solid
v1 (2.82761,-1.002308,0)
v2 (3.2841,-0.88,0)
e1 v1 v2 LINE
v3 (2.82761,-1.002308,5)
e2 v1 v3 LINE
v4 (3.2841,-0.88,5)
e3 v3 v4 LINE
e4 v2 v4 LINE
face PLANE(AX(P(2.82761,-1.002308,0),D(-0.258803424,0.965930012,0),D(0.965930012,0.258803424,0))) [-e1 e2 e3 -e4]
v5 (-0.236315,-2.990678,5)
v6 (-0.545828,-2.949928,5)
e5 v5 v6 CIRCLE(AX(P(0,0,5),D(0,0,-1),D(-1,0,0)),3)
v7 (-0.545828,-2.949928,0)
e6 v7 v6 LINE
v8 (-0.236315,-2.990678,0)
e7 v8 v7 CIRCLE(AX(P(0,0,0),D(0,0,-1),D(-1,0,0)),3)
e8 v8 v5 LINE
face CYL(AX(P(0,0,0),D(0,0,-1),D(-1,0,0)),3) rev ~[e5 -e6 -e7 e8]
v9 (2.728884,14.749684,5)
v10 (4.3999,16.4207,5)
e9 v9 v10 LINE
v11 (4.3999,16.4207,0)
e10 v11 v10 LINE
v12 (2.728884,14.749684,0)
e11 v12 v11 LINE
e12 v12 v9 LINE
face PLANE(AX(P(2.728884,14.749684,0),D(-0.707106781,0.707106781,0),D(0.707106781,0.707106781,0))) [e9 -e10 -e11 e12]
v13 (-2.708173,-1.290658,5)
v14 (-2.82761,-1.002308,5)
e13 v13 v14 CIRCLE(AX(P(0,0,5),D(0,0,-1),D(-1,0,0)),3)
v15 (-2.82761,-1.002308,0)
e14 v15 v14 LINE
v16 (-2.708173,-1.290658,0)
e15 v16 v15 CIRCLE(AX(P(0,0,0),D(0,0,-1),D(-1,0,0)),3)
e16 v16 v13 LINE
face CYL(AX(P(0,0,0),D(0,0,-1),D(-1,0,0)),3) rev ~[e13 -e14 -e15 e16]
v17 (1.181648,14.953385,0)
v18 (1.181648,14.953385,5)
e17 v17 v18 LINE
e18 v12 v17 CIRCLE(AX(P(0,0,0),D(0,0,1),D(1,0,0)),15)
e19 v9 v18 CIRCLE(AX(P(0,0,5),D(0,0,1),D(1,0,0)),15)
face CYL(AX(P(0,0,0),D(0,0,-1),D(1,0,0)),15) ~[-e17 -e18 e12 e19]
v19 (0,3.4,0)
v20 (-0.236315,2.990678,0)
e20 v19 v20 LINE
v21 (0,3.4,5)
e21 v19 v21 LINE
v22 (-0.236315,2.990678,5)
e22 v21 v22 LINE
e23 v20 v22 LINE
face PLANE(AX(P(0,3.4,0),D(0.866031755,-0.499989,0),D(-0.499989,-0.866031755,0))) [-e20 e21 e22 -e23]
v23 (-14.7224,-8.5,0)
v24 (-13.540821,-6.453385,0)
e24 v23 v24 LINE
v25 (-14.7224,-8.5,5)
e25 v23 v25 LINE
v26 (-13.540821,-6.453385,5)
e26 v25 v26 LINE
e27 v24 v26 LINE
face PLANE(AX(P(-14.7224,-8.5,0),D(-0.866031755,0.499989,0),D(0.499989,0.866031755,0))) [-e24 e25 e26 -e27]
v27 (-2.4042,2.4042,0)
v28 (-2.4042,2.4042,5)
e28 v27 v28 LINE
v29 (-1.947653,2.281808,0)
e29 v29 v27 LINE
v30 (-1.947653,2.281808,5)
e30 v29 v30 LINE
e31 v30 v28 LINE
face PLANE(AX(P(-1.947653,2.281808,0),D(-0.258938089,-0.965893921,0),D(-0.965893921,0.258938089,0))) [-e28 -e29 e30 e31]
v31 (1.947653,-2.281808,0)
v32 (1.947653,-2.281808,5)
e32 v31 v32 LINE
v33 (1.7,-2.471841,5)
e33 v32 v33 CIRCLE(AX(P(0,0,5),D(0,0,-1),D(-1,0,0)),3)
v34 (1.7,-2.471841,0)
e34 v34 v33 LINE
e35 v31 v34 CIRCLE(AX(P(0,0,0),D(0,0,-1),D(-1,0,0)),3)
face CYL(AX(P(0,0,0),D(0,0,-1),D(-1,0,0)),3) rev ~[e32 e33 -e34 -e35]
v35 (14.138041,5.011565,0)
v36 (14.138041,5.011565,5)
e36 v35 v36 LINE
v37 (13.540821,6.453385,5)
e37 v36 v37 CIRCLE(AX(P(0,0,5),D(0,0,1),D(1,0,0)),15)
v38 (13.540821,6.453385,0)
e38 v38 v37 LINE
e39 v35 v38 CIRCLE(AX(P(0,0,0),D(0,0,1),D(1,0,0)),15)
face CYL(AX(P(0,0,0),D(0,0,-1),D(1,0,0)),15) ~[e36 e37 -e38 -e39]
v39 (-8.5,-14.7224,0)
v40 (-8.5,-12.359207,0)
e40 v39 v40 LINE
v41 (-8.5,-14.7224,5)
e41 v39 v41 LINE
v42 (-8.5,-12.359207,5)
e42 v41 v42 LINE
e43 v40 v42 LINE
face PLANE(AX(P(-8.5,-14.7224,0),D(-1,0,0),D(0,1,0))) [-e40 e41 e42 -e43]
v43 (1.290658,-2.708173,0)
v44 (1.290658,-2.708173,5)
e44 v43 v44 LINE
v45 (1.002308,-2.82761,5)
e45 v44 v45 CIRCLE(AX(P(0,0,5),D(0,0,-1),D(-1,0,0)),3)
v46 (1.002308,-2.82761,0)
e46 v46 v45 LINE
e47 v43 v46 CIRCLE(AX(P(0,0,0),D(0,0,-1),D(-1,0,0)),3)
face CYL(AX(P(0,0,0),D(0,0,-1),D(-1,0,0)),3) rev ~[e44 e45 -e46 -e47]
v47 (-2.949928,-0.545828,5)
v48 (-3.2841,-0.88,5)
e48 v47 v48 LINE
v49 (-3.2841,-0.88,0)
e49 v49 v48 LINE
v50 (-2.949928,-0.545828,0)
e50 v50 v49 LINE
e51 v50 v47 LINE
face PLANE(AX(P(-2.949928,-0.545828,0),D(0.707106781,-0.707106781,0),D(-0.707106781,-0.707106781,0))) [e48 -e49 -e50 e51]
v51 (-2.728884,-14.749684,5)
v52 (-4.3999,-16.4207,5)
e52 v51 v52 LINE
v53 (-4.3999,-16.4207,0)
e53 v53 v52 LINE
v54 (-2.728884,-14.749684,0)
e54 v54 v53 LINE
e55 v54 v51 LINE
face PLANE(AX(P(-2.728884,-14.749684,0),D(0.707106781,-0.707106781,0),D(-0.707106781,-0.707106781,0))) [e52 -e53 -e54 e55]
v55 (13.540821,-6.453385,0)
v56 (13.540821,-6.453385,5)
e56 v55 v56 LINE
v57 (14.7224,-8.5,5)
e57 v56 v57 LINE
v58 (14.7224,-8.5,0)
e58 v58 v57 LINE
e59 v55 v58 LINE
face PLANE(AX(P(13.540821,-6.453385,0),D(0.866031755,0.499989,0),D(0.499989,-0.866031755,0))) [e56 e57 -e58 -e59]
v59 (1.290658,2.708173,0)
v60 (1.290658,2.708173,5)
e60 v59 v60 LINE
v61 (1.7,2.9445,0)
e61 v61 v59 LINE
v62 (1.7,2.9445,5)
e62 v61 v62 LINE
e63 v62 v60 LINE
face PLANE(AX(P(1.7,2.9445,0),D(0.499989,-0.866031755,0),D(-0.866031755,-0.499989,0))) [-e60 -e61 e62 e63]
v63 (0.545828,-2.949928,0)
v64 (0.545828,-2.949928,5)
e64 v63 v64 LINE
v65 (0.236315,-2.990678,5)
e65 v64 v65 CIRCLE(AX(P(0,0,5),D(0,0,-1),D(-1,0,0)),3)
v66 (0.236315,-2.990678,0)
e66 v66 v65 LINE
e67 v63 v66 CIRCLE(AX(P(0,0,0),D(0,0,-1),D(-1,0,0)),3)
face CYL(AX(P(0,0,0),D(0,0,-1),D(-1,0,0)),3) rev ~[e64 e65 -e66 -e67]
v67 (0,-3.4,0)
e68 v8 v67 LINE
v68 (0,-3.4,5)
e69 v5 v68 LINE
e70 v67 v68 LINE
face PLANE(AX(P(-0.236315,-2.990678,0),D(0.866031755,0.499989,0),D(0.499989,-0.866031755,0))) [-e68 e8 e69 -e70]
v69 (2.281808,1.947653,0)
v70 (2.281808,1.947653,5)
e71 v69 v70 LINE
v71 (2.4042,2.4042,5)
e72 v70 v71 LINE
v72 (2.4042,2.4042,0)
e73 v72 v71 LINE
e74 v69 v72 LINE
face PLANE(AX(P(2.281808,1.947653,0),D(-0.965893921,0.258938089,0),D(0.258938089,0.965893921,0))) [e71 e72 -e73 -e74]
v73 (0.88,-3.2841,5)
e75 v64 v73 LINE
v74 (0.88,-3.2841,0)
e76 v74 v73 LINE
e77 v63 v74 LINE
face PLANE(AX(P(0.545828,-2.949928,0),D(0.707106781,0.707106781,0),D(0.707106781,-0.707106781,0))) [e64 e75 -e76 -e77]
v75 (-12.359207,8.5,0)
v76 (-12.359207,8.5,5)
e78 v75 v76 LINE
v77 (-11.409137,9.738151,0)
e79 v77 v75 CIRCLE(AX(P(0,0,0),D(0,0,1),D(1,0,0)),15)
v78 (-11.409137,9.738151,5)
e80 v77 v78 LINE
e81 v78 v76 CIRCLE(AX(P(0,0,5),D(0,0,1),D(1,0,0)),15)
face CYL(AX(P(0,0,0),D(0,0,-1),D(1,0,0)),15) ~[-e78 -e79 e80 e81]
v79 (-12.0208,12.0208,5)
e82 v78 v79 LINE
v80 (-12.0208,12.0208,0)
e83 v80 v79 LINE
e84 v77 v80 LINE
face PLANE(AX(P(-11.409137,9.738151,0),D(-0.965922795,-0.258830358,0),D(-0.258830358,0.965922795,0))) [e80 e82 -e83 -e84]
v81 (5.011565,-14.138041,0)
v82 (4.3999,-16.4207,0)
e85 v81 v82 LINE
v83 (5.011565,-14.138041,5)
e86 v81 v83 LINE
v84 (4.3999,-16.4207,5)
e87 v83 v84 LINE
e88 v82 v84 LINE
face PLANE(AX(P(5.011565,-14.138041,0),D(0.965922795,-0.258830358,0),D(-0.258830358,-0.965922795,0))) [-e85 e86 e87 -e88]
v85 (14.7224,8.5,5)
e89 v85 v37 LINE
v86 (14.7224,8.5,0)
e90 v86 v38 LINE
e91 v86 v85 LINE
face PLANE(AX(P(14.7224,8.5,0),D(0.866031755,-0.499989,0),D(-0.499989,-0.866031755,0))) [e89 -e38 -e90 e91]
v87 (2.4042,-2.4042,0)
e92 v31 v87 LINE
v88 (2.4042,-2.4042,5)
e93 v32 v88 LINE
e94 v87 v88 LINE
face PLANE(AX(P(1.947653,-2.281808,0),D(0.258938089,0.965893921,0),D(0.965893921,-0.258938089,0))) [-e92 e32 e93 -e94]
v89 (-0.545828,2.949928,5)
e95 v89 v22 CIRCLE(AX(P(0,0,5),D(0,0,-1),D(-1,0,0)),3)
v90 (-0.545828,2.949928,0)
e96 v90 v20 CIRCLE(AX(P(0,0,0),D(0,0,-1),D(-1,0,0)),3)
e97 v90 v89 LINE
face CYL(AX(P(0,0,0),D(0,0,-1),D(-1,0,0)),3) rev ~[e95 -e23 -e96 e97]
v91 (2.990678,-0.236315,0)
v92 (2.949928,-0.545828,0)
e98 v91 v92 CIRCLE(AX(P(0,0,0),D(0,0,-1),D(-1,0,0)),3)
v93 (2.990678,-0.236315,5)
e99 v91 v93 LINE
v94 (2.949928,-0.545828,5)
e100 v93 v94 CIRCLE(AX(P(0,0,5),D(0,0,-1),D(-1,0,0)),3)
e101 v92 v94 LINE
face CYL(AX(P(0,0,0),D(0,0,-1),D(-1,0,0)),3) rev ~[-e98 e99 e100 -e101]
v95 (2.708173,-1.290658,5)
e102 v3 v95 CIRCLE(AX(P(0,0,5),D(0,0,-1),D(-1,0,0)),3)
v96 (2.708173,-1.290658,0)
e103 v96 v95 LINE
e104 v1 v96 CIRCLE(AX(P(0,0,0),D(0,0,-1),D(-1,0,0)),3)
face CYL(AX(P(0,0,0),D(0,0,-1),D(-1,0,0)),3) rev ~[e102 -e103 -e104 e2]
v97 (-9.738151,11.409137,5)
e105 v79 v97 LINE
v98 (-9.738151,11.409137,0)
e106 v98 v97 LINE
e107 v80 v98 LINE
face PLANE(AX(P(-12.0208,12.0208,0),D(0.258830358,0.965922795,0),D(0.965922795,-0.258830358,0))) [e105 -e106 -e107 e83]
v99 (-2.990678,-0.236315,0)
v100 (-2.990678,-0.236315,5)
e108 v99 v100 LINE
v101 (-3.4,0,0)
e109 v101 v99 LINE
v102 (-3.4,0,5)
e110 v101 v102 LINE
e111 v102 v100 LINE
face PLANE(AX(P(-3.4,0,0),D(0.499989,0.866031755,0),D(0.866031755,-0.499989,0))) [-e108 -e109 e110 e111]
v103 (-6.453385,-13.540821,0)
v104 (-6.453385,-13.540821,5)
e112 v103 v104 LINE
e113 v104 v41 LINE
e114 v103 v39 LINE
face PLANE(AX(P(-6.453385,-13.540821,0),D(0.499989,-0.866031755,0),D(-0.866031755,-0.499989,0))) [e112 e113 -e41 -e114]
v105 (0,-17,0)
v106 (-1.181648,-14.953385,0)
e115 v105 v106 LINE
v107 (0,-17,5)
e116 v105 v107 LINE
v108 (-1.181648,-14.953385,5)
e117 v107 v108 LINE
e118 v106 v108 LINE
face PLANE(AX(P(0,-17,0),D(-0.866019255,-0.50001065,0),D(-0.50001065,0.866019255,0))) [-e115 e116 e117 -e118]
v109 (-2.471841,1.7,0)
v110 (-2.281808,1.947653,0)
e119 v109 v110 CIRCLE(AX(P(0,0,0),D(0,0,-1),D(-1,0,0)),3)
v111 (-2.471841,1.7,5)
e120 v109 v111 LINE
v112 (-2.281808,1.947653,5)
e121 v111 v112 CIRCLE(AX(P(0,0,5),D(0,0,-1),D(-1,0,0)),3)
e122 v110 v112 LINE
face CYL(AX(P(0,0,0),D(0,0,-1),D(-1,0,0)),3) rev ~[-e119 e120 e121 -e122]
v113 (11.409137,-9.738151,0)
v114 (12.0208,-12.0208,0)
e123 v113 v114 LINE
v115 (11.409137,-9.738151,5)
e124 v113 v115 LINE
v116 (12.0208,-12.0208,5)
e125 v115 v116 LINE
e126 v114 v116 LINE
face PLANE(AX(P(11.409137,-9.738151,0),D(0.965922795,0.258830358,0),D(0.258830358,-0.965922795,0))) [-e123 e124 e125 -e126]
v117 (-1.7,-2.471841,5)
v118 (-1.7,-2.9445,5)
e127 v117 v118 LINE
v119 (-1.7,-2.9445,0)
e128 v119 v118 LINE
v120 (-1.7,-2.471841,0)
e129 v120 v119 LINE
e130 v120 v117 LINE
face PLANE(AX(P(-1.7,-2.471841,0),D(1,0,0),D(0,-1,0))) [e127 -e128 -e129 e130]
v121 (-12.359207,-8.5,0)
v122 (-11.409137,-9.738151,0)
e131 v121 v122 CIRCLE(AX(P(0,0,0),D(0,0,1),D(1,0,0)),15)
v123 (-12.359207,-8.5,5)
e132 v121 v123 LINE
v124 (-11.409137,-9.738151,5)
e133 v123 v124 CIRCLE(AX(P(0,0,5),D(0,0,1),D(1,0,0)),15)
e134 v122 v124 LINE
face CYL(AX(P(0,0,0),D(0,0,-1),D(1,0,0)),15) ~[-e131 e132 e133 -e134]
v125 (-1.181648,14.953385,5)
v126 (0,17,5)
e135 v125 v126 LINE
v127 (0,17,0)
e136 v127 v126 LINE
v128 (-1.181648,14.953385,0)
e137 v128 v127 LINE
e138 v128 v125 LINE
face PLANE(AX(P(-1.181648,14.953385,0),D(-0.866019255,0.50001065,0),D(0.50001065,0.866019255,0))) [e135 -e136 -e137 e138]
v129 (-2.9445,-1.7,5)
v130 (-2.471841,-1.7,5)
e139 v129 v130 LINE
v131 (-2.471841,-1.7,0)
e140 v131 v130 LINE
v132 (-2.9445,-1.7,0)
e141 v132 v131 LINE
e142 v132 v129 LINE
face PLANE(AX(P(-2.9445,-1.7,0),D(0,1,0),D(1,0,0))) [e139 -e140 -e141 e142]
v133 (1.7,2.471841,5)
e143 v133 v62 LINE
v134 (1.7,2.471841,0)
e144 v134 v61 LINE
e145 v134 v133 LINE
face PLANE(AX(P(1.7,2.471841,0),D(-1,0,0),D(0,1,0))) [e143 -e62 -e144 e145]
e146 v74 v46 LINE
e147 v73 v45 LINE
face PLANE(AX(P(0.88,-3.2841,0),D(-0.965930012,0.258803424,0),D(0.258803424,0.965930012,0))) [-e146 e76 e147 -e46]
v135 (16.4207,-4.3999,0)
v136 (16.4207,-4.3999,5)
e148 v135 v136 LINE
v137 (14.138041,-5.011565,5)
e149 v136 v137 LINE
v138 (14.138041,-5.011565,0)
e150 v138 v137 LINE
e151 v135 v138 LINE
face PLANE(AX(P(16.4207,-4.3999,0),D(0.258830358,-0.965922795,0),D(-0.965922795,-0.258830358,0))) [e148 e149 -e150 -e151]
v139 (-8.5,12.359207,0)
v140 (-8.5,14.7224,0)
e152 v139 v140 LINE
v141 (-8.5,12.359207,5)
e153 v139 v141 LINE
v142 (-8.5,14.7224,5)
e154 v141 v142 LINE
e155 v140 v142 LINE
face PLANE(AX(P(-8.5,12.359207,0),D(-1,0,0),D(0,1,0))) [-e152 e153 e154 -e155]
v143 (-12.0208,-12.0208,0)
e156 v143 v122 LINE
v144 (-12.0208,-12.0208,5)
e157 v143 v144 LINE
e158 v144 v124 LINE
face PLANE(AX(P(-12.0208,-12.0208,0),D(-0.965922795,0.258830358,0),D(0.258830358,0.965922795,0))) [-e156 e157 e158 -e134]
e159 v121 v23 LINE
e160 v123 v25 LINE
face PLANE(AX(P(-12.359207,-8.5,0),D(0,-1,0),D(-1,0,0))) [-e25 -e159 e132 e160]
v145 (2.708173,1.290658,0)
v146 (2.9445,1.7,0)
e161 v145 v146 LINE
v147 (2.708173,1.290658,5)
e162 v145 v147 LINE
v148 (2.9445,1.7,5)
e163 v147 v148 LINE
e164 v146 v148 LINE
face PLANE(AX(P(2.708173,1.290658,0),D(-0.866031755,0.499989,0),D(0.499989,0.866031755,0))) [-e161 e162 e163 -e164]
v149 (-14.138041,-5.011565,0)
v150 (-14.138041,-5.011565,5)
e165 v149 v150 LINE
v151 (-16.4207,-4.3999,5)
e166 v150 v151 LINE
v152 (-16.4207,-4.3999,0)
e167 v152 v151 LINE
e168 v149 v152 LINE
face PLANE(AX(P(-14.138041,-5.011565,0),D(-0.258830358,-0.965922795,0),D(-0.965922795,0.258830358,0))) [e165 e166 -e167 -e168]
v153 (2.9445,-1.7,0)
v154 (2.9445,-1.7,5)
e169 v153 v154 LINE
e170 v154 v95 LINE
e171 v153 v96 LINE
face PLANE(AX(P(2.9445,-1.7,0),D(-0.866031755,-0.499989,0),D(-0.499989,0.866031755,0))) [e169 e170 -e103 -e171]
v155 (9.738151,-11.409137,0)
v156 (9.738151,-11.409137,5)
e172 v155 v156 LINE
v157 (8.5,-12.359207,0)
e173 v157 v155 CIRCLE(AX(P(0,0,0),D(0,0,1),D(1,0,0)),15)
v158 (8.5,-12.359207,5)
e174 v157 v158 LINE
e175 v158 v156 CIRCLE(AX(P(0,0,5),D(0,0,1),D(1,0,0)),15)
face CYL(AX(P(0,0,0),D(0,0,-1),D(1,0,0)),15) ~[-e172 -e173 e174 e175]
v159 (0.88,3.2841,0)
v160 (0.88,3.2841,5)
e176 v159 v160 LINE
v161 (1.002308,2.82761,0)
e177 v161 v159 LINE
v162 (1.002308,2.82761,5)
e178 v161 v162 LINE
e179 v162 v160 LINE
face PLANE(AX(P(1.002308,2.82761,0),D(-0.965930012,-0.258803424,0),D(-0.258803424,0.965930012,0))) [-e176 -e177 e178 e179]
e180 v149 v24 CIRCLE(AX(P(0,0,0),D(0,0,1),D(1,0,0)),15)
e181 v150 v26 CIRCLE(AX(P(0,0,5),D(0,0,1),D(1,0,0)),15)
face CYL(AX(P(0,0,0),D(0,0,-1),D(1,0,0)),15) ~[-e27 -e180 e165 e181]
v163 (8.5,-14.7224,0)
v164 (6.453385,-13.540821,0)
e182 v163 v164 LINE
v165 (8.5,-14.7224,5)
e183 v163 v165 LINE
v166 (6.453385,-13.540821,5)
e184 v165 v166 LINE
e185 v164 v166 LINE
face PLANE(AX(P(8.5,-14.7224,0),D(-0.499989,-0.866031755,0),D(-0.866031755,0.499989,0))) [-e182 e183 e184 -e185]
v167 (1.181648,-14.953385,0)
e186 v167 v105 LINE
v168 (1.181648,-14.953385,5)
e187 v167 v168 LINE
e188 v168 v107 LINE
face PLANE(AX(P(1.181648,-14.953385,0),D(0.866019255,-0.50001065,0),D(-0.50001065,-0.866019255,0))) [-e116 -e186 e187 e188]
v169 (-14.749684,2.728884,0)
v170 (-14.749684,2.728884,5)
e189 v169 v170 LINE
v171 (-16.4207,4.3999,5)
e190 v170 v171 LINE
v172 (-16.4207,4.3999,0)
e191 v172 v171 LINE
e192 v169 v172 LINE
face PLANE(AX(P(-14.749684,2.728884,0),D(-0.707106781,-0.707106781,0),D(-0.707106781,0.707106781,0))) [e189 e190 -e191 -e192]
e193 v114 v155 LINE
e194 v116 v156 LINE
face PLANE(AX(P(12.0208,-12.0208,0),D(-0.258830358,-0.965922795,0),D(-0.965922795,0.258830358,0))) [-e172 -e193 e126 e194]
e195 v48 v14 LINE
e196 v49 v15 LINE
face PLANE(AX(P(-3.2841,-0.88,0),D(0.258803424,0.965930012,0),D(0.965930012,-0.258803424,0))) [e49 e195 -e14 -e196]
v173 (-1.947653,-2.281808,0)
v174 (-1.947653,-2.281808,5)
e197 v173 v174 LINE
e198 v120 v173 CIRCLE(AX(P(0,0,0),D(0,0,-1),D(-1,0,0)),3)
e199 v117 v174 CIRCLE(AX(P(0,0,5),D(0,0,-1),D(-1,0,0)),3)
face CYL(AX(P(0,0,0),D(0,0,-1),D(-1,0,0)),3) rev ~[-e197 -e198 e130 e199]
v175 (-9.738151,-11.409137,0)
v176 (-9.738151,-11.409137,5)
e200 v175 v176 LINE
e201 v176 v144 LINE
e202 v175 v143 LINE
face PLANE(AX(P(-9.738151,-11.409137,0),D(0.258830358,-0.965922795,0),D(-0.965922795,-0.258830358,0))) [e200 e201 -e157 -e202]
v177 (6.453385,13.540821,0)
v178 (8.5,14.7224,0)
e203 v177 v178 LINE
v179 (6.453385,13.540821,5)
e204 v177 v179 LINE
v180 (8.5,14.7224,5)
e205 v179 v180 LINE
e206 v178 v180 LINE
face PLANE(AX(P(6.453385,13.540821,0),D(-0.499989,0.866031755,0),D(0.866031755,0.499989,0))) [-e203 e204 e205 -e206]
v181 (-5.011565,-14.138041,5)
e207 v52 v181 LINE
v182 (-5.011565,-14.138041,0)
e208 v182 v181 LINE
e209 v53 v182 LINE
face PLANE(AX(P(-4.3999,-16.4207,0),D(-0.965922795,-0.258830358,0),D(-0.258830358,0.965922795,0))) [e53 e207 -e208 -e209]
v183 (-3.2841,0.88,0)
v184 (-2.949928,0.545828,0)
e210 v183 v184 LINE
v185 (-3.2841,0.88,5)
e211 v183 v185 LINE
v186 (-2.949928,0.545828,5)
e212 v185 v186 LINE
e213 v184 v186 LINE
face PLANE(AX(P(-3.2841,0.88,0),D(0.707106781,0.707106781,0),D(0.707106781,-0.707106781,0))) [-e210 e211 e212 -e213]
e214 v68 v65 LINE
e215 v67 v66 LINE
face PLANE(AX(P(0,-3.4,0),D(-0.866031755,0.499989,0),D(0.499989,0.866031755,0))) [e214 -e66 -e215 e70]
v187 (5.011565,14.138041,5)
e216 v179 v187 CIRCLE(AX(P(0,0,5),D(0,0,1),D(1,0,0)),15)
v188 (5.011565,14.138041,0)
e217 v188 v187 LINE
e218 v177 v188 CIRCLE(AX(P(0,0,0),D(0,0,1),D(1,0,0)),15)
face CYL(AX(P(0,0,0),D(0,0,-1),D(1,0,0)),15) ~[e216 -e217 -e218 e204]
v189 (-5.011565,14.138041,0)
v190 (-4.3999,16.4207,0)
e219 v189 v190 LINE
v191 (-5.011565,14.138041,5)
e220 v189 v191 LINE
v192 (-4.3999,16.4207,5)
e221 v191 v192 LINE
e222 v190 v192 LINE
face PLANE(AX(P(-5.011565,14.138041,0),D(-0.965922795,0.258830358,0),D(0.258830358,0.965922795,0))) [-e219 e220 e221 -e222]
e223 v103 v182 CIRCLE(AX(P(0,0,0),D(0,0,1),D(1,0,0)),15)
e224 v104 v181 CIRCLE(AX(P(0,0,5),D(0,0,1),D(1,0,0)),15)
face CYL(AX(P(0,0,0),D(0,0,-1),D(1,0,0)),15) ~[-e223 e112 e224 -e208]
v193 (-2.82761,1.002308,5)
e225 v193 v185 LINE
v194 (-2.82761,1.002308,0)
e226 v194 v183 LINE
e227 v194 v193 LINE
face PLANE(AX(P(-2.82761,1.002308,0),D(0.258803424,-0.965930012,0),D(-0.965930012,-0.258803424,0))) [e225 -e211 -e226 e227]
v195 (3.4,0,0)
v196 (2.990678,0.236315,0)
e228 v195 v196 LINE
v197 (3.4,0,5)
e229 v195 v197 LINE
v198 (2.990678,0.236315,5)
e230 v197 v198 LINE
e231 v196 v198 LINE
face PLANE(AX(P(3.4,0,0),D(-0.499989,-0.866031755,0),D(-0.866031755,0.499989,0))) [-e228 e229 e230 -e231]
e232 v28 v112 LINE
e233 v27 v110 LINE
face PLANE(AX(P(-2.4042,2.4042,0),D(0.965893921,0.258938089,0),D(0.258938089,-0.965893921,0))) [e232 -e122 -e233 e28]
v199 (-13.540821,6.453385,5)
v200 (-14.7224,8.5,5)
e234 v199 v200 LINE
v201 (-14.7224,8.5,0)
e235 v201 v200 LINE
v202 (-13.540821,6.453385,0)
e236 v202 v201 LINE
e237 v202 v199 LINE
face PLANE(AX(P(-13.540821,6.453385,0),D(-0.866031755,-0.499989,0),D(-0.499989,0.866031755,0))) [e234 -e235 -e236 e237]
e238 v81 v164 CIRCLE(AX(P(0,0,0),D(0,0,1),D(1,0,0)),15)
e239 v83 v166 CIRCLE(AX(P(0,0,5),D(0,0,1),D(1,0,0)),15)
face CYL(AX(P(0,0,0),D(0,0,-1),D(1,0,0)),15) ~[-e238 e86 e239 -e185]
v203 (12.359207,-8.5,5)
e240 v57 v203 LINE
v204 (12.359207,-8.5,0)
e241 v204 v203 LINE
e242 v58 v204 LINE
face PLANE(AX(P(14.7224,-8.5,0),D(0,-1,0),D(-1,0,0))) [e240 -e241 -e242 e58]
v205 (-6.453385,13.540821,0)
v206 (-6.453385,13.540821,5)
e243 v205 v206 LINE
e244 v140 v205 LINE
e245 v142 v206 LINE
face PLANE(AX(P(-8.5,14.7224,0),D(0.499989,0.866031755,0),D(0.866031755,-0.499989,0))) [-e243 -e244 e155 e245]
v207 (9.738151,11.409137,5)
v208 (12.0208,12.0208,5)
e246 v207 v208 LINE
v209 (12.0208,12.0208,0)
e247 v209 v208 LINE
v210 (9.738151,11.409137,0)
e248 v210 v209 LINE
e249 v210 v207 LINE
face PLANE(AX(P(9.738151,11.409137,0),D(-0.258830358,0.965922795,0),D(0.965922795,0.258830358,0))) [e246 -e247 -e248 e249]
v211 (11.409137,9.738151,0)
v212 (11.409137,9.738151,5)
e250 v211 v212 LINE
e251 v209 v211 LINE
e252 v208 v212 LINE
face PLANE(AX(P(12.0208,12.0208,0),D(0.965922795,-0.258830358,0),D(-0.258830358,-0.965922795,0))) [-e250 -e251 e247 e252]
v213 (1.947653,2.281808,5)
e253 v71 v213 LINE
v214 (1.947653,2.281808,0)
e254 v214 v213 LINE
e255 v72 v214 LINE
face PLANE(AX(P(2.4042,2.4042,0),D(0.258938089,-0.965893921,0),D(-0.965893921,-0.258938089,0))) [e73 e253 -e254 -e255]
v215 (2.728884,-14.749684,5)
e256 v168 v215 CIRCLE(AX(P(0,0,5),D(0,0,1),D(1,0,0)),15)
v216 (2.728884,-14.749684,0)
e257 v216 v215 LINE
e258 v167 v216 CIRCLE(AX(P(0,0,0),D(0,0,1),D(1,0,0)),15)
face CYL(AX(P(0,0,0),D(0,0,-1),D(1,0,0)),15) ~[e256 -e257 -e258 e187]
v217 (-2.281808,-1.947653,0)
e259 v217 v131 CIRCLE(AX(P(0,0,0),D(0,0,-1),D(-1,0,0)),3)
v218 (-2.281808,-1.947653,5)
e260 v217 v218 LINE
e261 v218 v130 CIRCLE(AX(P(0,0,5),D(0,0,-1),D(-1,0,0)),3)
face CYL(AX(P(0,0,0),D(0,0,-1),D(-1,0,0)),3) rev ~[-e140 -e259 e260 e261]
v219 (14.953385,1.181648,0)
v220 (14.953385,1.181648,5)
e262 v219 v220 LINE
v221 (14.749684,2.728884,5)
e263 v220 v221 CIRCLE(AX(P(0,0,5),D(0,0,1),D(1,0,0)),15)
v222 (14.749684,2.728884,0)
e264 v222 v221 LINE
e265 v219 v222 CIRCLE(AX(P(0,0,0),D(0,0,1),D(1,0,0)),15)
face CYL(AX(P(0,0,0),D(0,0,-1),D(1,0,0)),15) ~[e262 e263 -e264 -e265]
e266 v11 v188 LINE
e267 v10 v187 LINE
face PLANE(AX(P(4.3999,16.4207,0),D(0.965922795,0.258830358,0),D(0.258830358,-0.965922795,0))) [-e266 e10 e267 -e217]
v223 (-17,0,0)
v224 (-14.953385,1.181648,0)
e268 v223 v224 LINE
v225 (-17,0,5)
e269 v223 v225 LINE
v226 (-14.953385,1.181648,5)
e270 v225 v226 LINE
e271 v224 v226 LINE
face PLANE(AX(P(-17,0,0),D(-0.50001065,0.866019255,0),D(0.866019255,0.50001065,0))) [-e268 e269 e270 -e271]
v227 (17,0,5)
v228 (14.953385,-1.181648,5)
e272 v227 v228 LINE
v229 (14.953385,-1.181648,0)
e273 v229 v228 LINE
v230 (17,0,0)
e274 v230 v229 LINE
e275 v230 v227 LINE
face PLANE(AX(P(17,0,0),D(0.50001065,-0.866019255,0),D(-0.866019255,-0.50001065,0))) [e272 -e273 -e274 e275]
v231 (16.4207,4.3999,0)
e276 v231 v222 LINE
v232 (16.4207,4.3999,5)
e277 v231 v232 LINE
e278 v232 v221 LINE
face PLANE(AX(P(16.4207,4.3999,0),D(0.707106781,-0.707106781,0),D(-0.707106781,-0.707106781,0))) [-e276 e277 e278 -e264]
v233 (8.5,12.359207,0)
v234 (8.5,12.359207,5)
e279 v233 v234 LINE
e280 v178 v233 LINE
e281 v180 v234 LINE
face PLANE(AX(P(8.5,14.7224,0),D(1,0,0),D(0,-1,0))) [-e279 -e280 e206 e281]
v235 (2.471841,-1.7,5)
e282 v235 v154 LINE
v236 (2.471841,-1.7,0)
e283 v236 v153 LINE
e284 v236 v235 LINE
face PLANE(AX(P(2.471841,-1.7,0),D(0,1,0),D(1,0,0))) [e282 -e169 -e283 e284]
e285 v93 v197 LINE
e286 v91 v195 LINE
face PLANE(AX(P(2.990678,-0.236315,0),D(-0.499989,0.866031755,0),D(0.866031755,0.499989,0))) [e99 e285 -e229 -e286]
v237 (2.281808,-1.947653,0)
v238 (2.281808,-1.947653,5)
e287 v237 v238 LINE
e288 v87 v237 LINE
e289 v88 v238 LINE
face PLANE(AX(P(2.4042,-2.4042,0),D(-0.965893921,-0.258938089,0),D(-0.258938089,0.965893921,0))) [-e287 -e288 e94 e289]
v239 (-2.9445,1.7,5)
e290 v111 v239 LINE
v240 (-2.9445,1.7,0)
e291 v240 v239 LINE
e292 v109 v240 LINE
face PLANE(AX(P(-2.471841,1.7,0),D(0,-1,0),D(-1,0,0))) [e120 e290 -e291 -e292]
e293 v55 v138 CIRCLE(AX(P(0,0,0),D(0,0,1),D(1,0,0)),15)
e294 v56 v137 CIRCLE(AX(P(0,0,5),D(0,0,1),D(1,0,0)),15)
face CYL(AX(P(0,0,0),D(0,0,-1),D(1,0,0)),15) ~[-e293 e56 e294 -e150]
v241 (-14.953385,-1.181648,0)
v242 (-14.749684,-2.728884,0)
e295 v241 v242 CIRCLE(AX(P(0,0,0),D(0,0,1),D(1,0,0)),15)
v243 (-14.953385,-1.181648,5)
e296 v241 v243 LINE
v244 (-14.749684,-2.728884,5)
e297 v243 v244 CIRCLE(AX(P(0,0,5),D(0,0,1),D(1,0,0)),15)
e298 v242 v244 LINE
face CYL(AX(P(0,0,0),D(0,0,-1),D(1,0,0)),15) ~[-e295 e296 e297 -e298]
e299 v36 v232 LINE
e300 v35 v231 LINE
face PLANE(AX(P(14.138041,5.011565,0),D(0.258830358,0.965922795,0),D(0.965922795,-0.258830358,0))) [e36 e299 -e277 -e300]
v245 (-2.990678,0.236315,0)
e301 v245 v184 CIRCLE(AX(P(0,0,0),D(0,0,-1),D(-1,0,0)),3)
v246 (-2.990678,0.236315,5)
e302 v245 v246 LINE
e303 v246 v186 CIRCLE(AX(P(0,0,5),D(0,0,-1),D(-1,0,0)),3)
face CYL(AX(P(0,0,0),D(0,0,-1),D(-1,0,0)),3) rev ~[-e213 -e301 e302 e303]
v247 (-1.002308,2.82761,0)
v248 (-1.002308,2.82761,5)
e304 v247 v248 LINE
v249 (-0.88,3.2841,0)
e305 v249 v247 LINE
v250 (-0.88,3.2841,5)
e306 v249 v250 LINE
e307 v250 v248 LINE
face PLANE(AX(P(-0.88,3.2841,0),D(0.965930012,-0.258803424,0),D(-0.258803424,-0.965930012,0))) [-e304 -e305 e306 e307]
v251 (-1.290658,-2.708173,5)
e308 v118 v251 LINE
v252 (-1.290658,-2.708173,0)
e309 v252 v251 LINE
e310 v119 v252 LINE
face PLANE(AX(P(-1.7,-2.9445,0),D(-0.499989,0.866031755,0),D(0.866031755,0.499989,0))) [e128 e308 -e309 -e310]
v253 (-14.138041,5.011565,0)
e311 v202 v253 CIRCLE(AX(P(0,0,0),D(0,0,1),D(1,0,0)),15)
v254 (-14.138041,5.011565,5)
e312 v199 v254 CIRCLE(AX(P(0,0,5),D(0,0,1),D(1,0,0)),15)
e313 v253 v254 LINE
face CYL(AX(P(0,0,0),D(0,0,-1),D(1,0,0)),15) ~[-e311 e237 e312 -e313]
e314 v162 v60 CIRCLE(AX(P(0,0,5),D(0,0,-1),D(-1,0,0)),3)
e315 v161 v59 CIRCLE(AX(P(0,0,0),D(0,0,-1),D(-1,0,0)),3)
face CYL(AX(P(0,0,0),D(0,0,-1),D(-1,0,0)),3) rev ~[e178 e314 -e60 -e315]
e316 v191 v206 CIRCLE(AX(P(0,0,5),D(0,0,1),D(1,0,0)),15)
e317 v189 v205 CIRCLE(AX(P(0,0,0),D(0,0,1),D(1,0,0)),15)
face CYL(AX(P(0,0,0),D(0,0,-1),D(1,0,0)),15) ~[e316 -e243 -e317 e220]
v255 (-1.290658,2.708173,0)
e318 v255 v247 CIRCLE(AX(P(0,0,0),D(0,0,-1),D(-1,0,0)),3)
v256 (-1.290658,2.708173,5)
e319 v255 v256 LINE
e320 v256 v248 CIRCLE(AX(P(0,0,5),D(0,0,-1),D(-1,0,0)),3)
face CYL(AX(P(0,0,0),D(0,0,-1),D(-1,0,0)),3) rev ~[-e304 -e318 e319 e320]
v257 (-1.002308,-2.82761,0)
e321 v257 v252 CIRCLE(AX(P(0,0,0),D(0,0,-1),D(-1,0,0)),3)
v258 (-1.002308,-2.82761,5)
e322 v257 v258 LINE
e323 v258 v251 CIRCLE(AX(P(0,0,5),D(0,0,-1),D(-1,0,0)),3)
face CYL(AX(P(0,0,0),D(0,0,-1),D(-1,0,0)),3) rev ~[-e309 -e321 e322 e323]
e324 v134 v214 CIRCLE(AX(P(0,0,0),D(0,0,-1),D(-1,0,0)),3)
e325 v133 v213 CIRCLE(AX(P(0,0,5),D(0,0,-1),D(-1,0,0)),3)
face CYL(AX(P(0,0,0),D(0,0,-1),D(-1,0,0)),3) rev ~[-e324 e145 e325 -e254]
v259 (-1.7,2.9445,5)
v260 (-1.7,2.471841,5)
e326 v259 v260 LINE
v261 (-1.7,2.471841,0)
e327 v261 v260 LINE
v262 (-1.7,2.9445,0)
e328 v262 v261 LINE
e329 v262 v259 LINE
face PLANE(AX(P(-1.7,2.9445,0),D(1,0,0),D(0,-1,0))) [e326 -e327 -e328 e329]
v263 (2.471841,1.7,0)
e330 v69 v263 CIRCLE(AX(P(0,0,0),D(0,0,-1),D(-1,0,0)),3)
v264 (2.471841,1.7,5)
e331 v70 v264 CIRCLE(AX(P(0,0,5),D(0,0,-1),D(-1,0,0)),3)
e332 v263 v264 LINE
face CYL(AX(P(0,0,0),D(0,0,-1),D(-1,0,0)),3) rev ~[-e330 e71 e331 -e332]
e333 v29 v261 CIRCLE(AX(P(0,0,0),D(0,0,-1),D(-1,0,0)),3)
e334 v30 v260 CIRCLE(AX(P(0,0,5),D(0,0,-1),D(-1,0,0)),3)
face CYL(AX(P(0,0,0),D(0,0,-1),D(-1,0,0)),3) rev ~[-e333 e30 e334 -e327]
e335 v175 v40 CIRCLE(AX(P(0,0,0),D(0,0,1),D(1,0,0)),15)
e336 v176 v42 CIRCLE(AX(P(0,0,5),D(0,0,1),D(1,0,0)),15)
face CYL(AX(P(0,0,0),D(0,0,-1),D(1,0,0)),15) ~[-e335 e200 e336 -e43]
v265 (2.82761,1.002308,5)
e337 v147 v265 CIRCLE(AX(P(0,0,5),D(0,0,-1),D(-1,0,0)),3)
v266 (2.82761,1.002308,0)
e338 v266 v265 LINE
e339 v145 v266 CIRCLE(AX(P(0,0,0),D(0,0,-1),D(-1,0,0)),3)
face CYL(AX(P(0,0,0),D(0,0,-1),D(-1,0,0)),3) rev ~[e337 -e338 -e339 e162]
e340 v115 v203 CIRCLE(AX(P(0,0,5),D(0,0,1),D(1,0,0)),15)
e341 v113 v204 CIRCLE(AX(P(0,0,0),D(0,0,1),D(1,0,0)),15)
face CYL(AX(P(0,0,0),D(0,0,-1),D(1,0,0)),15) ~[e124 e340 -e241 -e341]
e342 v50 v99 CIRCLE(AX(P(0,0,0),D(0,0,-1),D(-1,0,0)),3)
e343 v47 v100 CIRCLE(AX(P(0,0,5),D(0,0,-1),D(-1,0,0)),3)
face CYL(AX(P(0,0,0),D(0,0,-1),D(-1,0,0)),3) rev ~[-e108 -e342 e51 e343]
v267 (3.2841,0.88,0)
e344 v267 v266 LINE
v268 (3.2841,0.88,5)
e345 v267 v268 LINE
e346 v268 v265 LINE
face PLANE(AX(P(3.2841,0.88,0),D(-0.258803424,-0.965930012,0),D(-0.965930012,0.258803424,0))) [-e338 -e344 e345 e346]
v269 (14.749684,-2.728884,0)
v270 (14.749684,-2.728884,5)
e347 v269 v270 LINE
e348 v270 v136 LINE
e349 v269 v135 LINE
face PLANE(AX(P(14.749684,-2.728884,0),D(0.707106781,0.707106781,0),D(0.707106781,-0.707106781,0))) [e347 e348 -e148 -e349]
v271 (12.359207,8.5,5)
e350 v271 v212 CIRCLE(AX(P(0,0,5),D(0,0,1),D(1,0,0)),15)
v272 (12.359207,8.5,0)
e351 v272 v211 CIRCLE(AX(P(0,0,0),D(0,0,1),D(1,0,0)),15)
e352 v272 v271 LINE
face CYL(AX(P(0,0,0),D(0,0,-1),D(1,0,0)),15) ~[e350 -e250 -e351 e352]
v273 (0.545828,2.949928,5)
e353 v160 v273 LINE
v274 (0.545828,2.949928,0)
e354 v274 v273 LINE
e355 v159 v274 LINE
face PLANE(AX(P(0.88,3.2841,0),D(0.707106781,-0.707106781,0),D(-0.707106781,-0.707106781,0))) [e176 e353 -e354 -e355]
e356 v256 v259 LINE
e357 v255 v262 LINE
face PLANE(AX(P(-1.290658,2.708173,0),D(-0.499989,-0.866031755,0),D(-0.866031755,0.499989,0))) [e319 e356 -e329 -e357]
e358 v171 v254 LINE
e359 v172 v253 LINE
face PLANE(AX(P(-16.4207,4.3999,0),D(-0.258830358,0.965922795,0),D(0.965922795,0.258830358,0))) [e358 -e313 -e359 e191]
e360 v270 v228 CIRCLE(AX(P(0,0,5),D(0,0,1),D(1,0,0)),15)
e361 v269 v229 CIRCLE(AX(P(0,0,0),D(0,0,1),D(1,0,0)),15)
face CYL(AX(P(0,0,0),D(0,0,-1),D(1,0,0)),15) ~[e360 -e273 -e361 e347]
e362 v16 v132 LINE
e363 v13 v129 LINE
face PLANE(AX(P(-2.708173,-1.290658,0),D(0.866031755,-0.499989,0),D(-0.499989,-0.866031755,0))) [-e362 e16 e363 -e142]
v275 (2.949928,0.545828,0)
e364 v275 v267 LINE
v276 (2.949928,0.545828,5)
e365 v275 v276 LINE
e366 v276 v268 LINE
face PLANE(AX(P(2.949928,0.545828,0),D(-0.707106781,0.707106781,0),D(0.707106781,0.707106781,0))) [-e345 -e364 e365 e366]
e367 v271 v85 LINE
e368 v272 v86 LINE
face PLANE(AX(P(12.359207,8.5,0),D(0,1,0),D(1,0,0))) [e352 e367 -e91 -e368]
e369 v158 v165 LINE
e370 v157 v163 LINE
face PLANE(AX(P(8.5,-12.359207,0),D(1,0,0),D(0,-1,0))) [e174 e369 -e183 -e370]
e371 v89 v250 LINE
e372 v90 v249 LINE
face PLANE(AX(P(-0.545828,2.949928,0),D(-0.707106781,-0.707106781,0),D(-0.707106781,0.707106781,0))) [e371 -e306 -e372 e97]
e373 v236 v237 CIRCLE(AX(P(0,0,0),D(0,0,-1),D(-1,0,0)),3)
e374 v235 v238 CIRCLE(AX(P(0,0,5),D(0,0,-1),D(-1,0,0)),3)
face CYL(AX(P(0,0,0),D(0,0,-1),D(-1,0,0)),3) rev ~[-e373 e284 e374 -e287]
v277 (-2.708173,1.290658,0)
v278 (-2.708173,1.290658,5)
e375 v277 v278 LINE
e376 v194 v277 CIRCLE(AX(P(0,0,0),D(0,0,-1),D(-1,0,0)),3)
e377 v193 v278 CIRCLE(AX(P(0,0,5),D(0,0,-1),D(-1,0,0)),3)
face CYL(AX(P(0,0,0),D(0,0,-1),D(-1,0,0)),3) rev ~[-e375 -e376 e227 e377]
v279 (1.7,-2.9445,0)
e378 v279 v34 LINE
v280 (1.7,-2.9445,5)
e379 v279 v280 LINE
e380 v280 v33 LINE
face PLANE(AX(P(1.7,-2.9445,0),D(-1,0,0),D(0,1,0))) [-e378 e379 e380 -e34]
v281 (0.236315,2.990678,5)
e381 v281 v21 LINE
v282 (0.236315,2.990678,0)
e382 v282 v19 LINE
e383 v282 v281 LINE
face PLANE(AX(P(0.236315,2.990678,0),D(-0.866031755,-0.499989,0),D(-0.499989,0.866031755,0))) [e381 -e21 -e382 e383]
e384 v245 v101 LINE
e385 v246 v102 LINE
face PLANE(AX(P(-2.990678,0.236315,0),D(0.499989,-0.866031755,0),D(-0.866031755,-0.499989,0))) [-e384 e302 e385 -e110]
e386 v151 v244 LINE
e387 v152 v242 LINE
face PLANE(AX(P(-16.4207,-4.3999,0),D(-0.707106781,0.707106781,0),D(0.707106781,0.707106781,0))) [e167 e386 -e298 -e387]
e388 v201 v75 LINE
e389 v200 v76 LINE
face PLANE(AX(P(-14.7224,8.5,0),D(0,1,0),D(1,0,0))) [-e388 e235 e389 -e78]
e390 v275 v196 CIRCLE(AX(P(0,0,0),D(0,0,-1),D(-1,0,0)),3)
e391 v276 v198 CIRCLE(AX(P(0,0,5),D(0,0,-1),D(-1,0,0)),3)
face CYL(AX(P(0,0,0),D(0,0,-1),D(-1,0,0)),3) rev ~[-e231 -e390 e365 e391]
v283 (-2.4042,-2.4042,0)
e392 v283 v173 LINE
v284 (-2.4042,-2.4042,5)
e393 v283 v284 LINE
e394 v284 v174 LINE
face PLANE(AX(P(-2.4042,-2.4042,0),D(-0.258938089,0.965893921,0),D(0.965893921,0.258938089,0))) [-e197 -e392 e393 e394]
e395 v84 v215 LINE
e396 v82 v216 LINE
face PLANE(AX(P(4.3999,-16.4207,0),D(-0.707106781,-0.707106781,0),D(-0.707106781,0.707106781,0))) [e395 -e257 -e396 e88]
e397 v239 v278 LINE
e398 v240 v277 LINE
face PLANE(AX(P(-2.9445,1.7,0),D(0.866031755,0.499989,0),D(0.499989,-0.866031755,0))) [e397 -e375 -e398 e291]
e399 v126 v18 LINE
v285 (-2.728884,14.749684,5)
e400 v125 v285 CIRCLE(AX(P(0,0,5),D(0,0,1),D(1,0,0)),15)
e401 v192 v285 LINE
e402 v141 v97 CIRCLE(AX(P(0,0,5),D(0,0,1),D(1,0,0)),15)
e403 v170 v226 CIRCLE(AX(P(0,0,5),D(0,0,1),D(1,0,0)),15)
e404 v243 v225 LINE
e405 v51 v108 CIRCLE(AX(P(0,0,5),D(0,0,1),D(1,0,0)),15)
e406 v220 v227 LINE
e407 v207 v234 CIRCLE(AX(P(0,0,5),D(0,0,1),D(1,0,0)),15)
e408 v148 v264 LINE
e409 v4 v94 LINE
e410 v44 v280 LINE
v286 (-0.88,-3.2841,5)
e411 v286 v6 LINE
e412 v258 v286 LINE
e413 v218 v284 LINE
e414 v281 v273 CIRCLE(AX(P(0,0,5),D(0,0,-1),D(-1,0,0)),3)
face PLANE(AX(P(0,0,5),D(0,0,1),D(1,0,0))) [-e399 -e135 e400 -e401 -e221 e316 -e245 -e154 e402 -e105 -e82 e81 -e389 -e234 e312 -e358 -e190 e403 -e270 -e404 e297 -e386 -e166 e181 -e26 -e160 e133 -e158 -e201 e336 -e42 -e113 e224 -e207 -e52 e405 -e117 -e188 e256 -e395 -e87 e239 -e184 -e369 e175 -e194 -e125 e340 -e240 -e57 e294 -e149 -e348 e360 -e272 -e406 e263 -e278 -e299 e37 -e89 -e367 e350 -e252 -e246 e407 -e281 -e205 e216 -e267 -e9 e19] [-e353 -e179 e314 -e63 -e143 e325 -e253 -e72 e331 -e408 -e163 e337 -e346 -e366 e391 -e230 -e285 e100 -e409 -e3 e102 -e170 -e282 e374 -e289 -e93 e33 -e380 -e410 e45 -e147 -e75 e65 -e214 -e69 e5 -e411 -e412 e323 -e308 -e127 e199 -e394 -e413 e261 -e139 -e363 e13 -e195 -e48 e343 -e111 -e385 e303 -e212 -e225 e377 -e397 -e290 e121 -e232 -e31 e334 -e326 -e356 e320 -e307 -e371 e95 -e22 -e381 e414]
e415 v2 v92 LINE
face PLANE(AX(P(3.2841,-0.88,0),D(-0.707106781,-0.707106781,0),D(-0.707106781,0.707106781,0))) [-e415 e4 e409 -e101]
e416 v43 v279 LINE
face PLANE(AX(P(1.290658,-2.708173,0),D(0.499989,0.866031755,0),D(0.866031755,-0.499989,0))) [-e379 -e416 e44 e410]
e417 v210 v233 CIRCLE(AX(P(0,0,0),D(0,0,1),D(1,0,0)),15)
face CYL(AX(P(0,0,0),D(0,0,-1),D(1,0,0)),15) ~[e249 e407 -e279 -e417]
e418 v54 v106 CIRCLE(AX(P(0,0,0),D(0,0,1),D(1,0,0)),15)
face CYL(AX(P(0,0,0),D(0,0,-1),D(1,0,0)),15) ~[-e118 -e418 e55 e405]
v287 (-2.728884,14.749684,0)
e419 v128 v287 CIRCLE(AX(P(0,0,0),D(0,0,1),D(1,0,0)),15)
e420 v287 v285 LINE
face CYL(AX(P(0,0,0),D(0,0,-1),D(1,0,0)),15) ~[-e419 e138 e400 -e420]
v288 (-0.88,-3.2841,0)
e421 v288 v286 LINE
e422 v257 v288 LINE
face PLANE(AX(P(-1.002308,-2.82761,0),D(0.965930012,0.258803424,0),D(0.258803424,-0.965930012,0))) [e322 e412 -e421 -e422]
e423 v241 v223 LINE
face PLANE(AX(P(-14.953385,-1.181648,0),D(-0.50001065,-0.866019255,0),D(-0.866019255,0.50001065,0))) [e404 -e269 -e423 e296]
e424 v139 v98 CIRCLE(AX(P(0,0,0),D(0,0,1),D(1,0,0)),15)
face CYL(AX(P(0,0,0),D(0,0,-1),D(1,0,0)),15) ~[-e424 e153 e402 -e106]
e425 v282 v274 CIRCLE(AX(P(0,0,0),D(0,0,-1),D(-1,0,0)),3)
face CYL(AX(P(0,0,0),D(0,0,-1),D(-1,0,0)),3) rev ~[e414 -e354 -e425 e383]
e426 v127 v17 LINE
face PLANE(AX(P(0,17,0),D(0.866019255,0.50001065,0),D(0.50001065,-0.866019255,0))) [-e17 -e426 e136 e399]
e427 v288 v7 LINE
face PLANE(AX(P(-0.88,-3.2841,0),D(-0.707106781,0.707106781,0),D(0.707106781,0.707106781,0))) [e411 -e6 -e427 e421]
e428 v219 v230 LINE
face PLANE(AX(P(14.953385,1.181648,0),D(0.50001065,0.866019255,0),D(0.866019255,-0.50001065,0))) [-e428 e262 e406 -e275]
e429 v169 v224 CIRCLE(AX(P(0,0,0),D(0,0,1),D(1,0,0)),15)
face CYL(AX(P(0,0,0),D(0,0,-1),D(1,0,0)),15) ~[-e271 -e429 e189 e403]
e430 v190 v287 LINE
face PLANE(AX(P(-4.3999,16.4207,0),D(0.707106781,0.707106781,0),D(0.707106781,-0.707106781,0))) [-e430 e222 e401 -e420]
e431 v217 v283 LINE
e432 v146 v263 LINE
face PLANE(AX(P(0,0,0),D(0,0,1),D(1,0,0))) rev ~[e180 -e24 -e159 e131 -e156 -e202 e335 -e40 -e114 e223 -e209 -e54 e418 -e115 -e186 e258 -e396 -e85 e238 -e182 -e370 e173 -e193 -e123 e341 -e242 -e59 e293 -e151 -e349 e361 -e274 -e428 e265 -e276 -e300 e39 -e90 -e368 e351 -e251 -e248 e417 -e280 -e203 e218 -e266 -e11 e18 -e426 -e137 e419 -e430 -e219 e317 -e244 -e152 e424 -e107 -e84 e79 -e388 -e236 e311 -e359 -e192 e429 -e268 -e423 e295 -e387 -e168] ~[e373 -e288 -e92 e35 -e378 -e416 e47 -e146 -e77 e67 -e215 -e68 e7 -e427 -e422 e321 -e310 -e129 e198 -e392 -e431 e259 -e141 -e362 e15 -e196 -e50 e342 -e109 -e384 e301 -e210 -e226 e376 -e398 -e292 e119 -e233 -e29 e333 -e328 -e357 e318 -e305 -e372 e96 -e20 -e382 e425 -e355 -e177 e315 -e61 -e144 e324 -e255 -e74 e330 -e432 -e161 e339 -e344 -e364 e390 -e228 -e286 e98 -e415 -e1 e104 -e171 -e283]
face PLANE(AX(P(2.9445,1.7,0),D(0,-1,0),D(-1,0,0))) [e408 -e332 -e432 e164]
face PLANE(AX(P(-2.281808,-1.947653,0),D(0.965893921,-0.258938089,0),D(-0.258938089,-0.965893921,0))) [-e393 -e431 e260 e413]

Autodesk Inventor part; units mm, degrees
ref_plane "YZ Plane" through (0, 0, 0) normal (1, 0, 0) x (0, 1, 0)
ref_plane "XZ Plane" through (0, 0, 0) normal (0, 1, 0) x (-1, 0, 0)
ref_plane "XY Plane" through (0, 0, 0) normal (0, 0, 1) x (1, 0, 0)
sketch "Boceto1" plane through (0, 0, 0) normal (0, 0, 1) x (1, 0, 0)
  circle A0 centre (0, 0) radius 15
  line L0 (0, 0) -> (0, 15)
  line L1 (0, 15) -> (0, 14)
  line L2 (-1.7321, 14) -> (0, 17)
  line L3 (0, 17) -> (1.7321, 14)
  line L4 (1.7321, 14) -> (-1.7321, 14)
  line L5 (-5.2965, 13.0747) -> (-4.3999, 16.4207)
  line L6 (-1.9504, 13.9712) -> (-5.2965, 13.0747)
  line L7 (-4.3999, 16.4207) -> (-1.9504, 13.9712)
  line L8 (-8.5, 11.2583) -> (-8.5, 14.7224)
  line L9 (-5.5, 12.9904) -> (-8.5, 11.2583)
  line L10 (-8.5, 14.7224) -> (-5.5, 12.9904)
  line L11 (-11.1242, 8.6748) -> (-12.0208, 12.0208)
  line L12 (-8.6748, 11.1242) -> (-11.1242, 8.6748)
  line L13 (-12.0208, 12.0208) -> (-8.6748, 11.1242)
  line L14 (-12.9904, 5.5) -> (-14.7224, 8.5)
  line L15 (-11.2583, 8.5) -> (-12.9904, 5.5)
  line L16 (-14.7224, 8.5) -> (-11.2583, 8.5)
  line L17 (-13.9712, 1.9504) -> (-16.4207, 4.3999)
  line L18 (-13.0747, 5.2965) -> (-13.9712, 1.9504)
  line L19 (-16.4207, 4.3999) -> (-13.0747, 5.2965)
  line L20 (-14, -1.7321) -> (-17, 0)
  line L21 (-14, 1.7321) -> (-14, -1.7321)
  line L22 (-17, 0) -> (-14, 1.7321)
  line L23 (-13.0747, -5.2965) -> (-16.4207, -4.3999)
  line L24 (-13.9712, -1.9504) -> (-13.0747, -5.2965)
  line L25 (-16.4207, -4.3999) -> (-13.9712, -1.9504)
  line L26 (-11.2583, -8.5) -> (-14.7224, -8.5)
  line L27 (-12.9904, -5.5) -> (-11.2583, -8.5)
  line L28 (-14.7224, -8.5) -> (-12.9904, -5.5)
  line L29 (-8.6748, -11.1242) -> (-12.0208, -12.0208)
  line L30 (-11.1242, -8.6748) -> (-8.6748, -11.1242)
  line L31 (-12.0208, -12.0208) -> (-11.1242, -8.6748)
  line L32 (-5.5, -12.9904) -> (-8.5, -14.7224)
  line L33 (-8.5, -11.2583) -> (-5.5, -12.9904)
  line L34 (-8.5, -14.7224) -> (-8.5, -11.2583)
  line L35 (-1.9504, -13.9712) -> (-4.3999, -16.4207)
  line L36 (-5.2965, -13.0747) -> (-1.9504, -13.9712)
  line L37 (-4.3999, -16.4207) -> (-5.2965, -13.0747)
  line L38 (1.7321, -14) -> (0, -17)
  line L39 (-1.7321, -14) -> (1.7321, -14)
  line L40 (0, -17) -> (-1.7321, -14)
  line L41 (5.2965, -13.0747) -> (4.3999, -16.4207)
  line L42 (1.9504, -13.9712) -> (5.2965, -13.0747)
  line L43 (4.3999, -16.4207) -> (1.9504, -13.9712)
  line L44 (8.5, -11.2583) -> (8.5, -14.7224)
  line L45 (5.5, -12.9904) -> (8.5, -11.2583)
  line L46 (8.5, -14.7224) -> (5.5, -12.9904)
  line L47 (11.1242, -8.6748) -> (12.0208, -12.0208)
  line L48 (8.6748, -11.1242) -> (11.1242, -8.6748)
  line L49 (12.0208, -12.0208) -> (8.6748, -11.1242)
  line L50 (12.9904, -5.5) -> (14.7224, -8.5)
  line L51 (11.2583, -8.5) -> (12.9904, -5.5)
  line L52 (14.7224, -8.5) -> (11.2583, -8.5)
  line L53 (13.9712, -1.9504) -> (16.4207, -4.3999)
  line L54 (13.0747, -5.2965) -> (13.9712, -1.9504)
  line L55 (16.4207, -4.3999) -> (13.0747, -5.2965)
  line L56 (14, 1.7321) -> (17, 0)
  line L57 (14, -1.7321) -> (14, 1.7321)
  line L58 (17, 0) -> (14, -1.7321)
  line L59 (13.0747, 5.2965) -> (16.4207, 4.3999)
  line L60 (13.9712, 1.9504) -> (13.0747, 5.2965)
  line L61 (16.4207, 4.3999) -> (13.9712, 1.9504)
  line L62 (11.2583, 8.5) -> (14.7224, 8.5)
  line L63 (12.9904, 5.5) -> (11.2583, 8.5)
  line L64 (14.7224, 8.5) -> (12.9904, 5.5)
  line L65 (8.6748, 11.1242) -> (12.0208, 12.0208)
  line L66 (11.1242, 8.6748) -> (8.6748, 11.1242)
  line L67 (12.0208, 12.0208) -> (11.1242, 8.6748)
  line L68 (5.5, 12.9904) -> (8.5, 14.7224)
  line L69 (8.5, 11.2583) -> (5.5, 12.9904)
  line L70 (8.5, 14.7224) -> (8.5, 11.2583)
  line L71 (1.9504, 13.9712) -> (4.3999, 16.4207)
  line L72 (5.2965, 13.0747) -> (1.9504, 13.9712)
  line L73 (4.3999, 16.4207) -> (5.2965, 13.0747)
  point P0 (-3.6235, 13.523)
  point P1 (-7, 12.1244)
  point P2 (-9.8995, 9.8995)
  point P3 (-12.1244, 7)
  point P4 (-13.523, 3.6235)
  point P5 (-14, 0)
  point P6 (-13.523, -3.6235)
  point P7 (-12.1244, -7)
  point P8 (-9.8995, -9.8995)
  point P9 (-7, -12.1244)
  point P10 (-3.6235, -13.523)
  point P11 (0, -14)
  point P12 (3.6235, -13.523)
  point P13 (7, -12.1244)
  point P14 (9.8995, -9.8995)
  point P15 (12.1244, -7)
  point P16 (13.523, -3.6235)
  point P17 (14, 0)
  point P18 (13.523, 3.6235)
  point P19 (12.1244, 7)
  point P20 (9.8995, 9.8995)
  point P21 (7, 12.1244)
  point P22 (3.6235, 13.523)
  dimension "d0" = 30
  dimension "d1" = 1
  dimension "d4" = 360
extrude "Extrusión1" add sketch "Boceto1" along normal blind 5
sketch "Boceto2" plane through (0, 0, 0) normal (0, 0, -1) x (-1, 0, 0)
  circle A0 centre (0, 0) radius 3
  line L0 (0, 0) -> (0, 3)
  line L1 (0, 3) -> (0, 2.8)
  line L2 (-0.3464, 2.8) -> (0, 3.4)
  line L3 (0, 3.4) -> (0.3464, 2.8)
  line L4 (0.3464, 2.8) -> (-0.3464, 2.8)
  line L5 (-0.88, 3.2841) -> (-0.3901, 2.7942)
  line L6 (-1.0593, 2.6149) -> (-0.88, 3.2841)
  line L7 (-0.3901, 2.7942) -> (-1.0593, 2.6149)
  line L8 (-1.7, 2.9445) -> (-1.1, 2.5981)
  line L9 (-1.7, 2.2517) -> (-1.7, 2.9445)
  line L10 (-1.1, 2.5981) -> (-1.7, 2.2517)
  line L11 (-2.4042, 2.4042) -> (-1.735, 2.2248)
  line L12 (-2.2248, 1.735) -> (-2.4042, 2.4042)
  line L13 (-1.735, 2.2248) -> (-2.2248, 1.735)
  line L14 (-2.9445, 1.7) -> (-2.2517, 1.7)
  line L15 (-2.5981, 1.1) -> (-2.9445, 1.7)
  line L16 (-2.2517, 1.7) -> (-2.5981, 1.1)
  line L17 (-3.2841, 0.88) -> (-2.6149, 1.0593)
  line L18 (-2.7942, 0.3901) -> (-3.2841, 0.88)
  line L19 (-2.6149, 1.0593) -> (-2.7942, 0.3901)
  line L20 (-3.4, 0) -> (-2.8, 0.3464)
  line L21 (-2.8, -0.3464) -> (-3.4, 0)
  line L22 (-2.8, 0.3464) -> (-2.8, -0.3464)
  line L23 (-3.2841, -0.88) -> (-2.7942, -0.3901)
  line L24 (-2.6149, -1.0593) -> (-3.2841, -0.88)
  line L25 (-2.7942, -0.3901) -> (-2.6149, -1.0593)
  line L26 (-2.9445, -1.7) -> (-2.5981, -1.1)
  line L27 (-2.2517, -1.7) -> (-2.9445, -1.7)
  line L28 (-2.5981, -1.1) -> (-2.2517, -1.7)
  line L29 (-2.4042, -2.4042) -> (-2.2248, -1.735)
  line L30 (-1.735, -2.2248) -> (-2.4042, -2.4042)
  line L31 (-2.2248, -1.735) -> (-1.735, -2.2248)
  line L32 (-1.7, -2.9445) -> (-1.7, -2.2517)
  line L33 (-1.1, -2.5981) -> (-1.7, -2.9445)
  line L34 (-1.7, -2.2517) -> (-1.1, -2.5981)
  line L35 (-0.88, -3.2841) -> (-1.0593, -2.6149)
  line L36 (-0.3901, -2.7942) -> (-0.88, -3.2841)
  line L37 (-1.0593, -2.6149) -> (-0.3901, -2.7942)
  line L38 (0, -3.4) -> (-0.3464, -2.8)
  line L39 (0.3464, -2.8) -> (0, -3.4)
  line L40 (-0.3464, -2.8) -> (0.3464, -2.8)
  line L41 (0.88, -3.2841) -> (0.3901, -2.7942)
  line L42 (1.0593, -2.6149) -> (0.88, -3.2841)
  line L43 (0.3901, -2.7942) -> (1.0593, -2.6149)
  line L44 (1.7, -2.9445) -> (1.1, -2.5981)
  line L45 (1.7, -2.2517) -> (1.7, -2.9445)
  line L46 (1.1, -2.5981) -> (1.7, -2.2517)
  line L47 (2.4042, -2.4042) -> (1.735, -2.2248)
  line L48 (2.2248, -1.735) -> (2.4042, -2.4042)
  line L49 (1.735, -2.2248) -> (2.2248, -1.735)
  line L50 (2.9445, -1.7) -> (2.2517, -1.7)
  line L51 (2.5981, -1.1) -> (2.9445, -1.7)
  line L52 (2.2517, -1.7) -> (2.5981, -1.1)
  line L53 (3.2841, -0.88) -> (2.6149, -1.0593)
  line L54 (2.7942, -0.3901) -> (3.2841, -0.88)
  line L55 (2.6149, -1.0593) -> (2.7942, -0.3901)
  line L56 (3.4, 0) -> (2.8, -0.3464)
  line L57 (2.8, 0.3464) -> (3.4, 0)
  line L58 (2.8, -0.3464) -> (2.8, 0.3464)
  line L59 (3.2841, 0.88) -> (2.7942, 0.3901)
  line L60 (2.6149, 1.0593) -> (3.2841, 0.88)
  line L61 (2.7942, 0.3901) -> (2.6149, 1.0593)
  line L62 (2.9445, 1.7) -> (2.5981, 1.1)
  line L63 (2.2517, 1.7) -> (2.9445, 1.7)
  line L64 (2.5981, 1.1) -> (2.2517, 1.7)
  line L65 (2.4042, 2.4042) -> (2.2248, 1.735)
  line L66 (1.735, 2.2248) -> (2.4042, 2.4042)
  line L67 (2.2248, 1.735) -> (1.735, 2.2248)
  line L68 (1.7, 2.9445) -> (1.7, 2.2517)
  line L69 (1.1, 2.5981) -> (1.7, 2.9445)
  line L70 (1.7, 2.2517) -> (1.1, 2.5981)
  line L71 (0.88, 3.2841) -> (1.0593, 2.6149)
  line L72 (0.3901, 2.7942) -> (0.88, 3.2841)
  line L73 (1.0593, 2.6149) -> (0.3901, 2.7942)
  point P0 (-0.7247, 2.7046)
  point P1 (-1.4, 2.4249)
  point P2 (-1.9799, 1.9799)
  point P3 (-2.4249, 1.4)
  point P4 (-2.7046, 0.7247)
  point P5 (-2.8, 0)
  point P6 (-2.7046, -0.7247)
  point P7 (-2.4249, -1.4)
  point P8 (-1.9799, -1.9799)
  point P9 (-1.4, -2.4249)
  point P10 (-0.7247, -2.7046)
  point P11 (0, -2.8)
  point P12 (0.7247, -2.7046)
  point P13 (1.4, -2.4249)
  point P14 (1.9799, -1.9799)
  point P15 (2.4249, -1.4)
  point P16 (2.7046, -0.7247)
  point P17 (2.8, 0)
  point P18 (2.7046, 0.7247)
  point P19 (2.4249, 1.4)
  point P20 (1.9799, 1.9799)
  point P21 (1.4, 2.4249)
  point P22 (0.7247, 2.7046)
  dimension "d8" = 6
  dimension "d9" = 0.2
  dimension "d12" = 360
extrude "Extrusión2" cut sketch "Boceto2" against normal blind 5
properties part number "Piñon_1"
